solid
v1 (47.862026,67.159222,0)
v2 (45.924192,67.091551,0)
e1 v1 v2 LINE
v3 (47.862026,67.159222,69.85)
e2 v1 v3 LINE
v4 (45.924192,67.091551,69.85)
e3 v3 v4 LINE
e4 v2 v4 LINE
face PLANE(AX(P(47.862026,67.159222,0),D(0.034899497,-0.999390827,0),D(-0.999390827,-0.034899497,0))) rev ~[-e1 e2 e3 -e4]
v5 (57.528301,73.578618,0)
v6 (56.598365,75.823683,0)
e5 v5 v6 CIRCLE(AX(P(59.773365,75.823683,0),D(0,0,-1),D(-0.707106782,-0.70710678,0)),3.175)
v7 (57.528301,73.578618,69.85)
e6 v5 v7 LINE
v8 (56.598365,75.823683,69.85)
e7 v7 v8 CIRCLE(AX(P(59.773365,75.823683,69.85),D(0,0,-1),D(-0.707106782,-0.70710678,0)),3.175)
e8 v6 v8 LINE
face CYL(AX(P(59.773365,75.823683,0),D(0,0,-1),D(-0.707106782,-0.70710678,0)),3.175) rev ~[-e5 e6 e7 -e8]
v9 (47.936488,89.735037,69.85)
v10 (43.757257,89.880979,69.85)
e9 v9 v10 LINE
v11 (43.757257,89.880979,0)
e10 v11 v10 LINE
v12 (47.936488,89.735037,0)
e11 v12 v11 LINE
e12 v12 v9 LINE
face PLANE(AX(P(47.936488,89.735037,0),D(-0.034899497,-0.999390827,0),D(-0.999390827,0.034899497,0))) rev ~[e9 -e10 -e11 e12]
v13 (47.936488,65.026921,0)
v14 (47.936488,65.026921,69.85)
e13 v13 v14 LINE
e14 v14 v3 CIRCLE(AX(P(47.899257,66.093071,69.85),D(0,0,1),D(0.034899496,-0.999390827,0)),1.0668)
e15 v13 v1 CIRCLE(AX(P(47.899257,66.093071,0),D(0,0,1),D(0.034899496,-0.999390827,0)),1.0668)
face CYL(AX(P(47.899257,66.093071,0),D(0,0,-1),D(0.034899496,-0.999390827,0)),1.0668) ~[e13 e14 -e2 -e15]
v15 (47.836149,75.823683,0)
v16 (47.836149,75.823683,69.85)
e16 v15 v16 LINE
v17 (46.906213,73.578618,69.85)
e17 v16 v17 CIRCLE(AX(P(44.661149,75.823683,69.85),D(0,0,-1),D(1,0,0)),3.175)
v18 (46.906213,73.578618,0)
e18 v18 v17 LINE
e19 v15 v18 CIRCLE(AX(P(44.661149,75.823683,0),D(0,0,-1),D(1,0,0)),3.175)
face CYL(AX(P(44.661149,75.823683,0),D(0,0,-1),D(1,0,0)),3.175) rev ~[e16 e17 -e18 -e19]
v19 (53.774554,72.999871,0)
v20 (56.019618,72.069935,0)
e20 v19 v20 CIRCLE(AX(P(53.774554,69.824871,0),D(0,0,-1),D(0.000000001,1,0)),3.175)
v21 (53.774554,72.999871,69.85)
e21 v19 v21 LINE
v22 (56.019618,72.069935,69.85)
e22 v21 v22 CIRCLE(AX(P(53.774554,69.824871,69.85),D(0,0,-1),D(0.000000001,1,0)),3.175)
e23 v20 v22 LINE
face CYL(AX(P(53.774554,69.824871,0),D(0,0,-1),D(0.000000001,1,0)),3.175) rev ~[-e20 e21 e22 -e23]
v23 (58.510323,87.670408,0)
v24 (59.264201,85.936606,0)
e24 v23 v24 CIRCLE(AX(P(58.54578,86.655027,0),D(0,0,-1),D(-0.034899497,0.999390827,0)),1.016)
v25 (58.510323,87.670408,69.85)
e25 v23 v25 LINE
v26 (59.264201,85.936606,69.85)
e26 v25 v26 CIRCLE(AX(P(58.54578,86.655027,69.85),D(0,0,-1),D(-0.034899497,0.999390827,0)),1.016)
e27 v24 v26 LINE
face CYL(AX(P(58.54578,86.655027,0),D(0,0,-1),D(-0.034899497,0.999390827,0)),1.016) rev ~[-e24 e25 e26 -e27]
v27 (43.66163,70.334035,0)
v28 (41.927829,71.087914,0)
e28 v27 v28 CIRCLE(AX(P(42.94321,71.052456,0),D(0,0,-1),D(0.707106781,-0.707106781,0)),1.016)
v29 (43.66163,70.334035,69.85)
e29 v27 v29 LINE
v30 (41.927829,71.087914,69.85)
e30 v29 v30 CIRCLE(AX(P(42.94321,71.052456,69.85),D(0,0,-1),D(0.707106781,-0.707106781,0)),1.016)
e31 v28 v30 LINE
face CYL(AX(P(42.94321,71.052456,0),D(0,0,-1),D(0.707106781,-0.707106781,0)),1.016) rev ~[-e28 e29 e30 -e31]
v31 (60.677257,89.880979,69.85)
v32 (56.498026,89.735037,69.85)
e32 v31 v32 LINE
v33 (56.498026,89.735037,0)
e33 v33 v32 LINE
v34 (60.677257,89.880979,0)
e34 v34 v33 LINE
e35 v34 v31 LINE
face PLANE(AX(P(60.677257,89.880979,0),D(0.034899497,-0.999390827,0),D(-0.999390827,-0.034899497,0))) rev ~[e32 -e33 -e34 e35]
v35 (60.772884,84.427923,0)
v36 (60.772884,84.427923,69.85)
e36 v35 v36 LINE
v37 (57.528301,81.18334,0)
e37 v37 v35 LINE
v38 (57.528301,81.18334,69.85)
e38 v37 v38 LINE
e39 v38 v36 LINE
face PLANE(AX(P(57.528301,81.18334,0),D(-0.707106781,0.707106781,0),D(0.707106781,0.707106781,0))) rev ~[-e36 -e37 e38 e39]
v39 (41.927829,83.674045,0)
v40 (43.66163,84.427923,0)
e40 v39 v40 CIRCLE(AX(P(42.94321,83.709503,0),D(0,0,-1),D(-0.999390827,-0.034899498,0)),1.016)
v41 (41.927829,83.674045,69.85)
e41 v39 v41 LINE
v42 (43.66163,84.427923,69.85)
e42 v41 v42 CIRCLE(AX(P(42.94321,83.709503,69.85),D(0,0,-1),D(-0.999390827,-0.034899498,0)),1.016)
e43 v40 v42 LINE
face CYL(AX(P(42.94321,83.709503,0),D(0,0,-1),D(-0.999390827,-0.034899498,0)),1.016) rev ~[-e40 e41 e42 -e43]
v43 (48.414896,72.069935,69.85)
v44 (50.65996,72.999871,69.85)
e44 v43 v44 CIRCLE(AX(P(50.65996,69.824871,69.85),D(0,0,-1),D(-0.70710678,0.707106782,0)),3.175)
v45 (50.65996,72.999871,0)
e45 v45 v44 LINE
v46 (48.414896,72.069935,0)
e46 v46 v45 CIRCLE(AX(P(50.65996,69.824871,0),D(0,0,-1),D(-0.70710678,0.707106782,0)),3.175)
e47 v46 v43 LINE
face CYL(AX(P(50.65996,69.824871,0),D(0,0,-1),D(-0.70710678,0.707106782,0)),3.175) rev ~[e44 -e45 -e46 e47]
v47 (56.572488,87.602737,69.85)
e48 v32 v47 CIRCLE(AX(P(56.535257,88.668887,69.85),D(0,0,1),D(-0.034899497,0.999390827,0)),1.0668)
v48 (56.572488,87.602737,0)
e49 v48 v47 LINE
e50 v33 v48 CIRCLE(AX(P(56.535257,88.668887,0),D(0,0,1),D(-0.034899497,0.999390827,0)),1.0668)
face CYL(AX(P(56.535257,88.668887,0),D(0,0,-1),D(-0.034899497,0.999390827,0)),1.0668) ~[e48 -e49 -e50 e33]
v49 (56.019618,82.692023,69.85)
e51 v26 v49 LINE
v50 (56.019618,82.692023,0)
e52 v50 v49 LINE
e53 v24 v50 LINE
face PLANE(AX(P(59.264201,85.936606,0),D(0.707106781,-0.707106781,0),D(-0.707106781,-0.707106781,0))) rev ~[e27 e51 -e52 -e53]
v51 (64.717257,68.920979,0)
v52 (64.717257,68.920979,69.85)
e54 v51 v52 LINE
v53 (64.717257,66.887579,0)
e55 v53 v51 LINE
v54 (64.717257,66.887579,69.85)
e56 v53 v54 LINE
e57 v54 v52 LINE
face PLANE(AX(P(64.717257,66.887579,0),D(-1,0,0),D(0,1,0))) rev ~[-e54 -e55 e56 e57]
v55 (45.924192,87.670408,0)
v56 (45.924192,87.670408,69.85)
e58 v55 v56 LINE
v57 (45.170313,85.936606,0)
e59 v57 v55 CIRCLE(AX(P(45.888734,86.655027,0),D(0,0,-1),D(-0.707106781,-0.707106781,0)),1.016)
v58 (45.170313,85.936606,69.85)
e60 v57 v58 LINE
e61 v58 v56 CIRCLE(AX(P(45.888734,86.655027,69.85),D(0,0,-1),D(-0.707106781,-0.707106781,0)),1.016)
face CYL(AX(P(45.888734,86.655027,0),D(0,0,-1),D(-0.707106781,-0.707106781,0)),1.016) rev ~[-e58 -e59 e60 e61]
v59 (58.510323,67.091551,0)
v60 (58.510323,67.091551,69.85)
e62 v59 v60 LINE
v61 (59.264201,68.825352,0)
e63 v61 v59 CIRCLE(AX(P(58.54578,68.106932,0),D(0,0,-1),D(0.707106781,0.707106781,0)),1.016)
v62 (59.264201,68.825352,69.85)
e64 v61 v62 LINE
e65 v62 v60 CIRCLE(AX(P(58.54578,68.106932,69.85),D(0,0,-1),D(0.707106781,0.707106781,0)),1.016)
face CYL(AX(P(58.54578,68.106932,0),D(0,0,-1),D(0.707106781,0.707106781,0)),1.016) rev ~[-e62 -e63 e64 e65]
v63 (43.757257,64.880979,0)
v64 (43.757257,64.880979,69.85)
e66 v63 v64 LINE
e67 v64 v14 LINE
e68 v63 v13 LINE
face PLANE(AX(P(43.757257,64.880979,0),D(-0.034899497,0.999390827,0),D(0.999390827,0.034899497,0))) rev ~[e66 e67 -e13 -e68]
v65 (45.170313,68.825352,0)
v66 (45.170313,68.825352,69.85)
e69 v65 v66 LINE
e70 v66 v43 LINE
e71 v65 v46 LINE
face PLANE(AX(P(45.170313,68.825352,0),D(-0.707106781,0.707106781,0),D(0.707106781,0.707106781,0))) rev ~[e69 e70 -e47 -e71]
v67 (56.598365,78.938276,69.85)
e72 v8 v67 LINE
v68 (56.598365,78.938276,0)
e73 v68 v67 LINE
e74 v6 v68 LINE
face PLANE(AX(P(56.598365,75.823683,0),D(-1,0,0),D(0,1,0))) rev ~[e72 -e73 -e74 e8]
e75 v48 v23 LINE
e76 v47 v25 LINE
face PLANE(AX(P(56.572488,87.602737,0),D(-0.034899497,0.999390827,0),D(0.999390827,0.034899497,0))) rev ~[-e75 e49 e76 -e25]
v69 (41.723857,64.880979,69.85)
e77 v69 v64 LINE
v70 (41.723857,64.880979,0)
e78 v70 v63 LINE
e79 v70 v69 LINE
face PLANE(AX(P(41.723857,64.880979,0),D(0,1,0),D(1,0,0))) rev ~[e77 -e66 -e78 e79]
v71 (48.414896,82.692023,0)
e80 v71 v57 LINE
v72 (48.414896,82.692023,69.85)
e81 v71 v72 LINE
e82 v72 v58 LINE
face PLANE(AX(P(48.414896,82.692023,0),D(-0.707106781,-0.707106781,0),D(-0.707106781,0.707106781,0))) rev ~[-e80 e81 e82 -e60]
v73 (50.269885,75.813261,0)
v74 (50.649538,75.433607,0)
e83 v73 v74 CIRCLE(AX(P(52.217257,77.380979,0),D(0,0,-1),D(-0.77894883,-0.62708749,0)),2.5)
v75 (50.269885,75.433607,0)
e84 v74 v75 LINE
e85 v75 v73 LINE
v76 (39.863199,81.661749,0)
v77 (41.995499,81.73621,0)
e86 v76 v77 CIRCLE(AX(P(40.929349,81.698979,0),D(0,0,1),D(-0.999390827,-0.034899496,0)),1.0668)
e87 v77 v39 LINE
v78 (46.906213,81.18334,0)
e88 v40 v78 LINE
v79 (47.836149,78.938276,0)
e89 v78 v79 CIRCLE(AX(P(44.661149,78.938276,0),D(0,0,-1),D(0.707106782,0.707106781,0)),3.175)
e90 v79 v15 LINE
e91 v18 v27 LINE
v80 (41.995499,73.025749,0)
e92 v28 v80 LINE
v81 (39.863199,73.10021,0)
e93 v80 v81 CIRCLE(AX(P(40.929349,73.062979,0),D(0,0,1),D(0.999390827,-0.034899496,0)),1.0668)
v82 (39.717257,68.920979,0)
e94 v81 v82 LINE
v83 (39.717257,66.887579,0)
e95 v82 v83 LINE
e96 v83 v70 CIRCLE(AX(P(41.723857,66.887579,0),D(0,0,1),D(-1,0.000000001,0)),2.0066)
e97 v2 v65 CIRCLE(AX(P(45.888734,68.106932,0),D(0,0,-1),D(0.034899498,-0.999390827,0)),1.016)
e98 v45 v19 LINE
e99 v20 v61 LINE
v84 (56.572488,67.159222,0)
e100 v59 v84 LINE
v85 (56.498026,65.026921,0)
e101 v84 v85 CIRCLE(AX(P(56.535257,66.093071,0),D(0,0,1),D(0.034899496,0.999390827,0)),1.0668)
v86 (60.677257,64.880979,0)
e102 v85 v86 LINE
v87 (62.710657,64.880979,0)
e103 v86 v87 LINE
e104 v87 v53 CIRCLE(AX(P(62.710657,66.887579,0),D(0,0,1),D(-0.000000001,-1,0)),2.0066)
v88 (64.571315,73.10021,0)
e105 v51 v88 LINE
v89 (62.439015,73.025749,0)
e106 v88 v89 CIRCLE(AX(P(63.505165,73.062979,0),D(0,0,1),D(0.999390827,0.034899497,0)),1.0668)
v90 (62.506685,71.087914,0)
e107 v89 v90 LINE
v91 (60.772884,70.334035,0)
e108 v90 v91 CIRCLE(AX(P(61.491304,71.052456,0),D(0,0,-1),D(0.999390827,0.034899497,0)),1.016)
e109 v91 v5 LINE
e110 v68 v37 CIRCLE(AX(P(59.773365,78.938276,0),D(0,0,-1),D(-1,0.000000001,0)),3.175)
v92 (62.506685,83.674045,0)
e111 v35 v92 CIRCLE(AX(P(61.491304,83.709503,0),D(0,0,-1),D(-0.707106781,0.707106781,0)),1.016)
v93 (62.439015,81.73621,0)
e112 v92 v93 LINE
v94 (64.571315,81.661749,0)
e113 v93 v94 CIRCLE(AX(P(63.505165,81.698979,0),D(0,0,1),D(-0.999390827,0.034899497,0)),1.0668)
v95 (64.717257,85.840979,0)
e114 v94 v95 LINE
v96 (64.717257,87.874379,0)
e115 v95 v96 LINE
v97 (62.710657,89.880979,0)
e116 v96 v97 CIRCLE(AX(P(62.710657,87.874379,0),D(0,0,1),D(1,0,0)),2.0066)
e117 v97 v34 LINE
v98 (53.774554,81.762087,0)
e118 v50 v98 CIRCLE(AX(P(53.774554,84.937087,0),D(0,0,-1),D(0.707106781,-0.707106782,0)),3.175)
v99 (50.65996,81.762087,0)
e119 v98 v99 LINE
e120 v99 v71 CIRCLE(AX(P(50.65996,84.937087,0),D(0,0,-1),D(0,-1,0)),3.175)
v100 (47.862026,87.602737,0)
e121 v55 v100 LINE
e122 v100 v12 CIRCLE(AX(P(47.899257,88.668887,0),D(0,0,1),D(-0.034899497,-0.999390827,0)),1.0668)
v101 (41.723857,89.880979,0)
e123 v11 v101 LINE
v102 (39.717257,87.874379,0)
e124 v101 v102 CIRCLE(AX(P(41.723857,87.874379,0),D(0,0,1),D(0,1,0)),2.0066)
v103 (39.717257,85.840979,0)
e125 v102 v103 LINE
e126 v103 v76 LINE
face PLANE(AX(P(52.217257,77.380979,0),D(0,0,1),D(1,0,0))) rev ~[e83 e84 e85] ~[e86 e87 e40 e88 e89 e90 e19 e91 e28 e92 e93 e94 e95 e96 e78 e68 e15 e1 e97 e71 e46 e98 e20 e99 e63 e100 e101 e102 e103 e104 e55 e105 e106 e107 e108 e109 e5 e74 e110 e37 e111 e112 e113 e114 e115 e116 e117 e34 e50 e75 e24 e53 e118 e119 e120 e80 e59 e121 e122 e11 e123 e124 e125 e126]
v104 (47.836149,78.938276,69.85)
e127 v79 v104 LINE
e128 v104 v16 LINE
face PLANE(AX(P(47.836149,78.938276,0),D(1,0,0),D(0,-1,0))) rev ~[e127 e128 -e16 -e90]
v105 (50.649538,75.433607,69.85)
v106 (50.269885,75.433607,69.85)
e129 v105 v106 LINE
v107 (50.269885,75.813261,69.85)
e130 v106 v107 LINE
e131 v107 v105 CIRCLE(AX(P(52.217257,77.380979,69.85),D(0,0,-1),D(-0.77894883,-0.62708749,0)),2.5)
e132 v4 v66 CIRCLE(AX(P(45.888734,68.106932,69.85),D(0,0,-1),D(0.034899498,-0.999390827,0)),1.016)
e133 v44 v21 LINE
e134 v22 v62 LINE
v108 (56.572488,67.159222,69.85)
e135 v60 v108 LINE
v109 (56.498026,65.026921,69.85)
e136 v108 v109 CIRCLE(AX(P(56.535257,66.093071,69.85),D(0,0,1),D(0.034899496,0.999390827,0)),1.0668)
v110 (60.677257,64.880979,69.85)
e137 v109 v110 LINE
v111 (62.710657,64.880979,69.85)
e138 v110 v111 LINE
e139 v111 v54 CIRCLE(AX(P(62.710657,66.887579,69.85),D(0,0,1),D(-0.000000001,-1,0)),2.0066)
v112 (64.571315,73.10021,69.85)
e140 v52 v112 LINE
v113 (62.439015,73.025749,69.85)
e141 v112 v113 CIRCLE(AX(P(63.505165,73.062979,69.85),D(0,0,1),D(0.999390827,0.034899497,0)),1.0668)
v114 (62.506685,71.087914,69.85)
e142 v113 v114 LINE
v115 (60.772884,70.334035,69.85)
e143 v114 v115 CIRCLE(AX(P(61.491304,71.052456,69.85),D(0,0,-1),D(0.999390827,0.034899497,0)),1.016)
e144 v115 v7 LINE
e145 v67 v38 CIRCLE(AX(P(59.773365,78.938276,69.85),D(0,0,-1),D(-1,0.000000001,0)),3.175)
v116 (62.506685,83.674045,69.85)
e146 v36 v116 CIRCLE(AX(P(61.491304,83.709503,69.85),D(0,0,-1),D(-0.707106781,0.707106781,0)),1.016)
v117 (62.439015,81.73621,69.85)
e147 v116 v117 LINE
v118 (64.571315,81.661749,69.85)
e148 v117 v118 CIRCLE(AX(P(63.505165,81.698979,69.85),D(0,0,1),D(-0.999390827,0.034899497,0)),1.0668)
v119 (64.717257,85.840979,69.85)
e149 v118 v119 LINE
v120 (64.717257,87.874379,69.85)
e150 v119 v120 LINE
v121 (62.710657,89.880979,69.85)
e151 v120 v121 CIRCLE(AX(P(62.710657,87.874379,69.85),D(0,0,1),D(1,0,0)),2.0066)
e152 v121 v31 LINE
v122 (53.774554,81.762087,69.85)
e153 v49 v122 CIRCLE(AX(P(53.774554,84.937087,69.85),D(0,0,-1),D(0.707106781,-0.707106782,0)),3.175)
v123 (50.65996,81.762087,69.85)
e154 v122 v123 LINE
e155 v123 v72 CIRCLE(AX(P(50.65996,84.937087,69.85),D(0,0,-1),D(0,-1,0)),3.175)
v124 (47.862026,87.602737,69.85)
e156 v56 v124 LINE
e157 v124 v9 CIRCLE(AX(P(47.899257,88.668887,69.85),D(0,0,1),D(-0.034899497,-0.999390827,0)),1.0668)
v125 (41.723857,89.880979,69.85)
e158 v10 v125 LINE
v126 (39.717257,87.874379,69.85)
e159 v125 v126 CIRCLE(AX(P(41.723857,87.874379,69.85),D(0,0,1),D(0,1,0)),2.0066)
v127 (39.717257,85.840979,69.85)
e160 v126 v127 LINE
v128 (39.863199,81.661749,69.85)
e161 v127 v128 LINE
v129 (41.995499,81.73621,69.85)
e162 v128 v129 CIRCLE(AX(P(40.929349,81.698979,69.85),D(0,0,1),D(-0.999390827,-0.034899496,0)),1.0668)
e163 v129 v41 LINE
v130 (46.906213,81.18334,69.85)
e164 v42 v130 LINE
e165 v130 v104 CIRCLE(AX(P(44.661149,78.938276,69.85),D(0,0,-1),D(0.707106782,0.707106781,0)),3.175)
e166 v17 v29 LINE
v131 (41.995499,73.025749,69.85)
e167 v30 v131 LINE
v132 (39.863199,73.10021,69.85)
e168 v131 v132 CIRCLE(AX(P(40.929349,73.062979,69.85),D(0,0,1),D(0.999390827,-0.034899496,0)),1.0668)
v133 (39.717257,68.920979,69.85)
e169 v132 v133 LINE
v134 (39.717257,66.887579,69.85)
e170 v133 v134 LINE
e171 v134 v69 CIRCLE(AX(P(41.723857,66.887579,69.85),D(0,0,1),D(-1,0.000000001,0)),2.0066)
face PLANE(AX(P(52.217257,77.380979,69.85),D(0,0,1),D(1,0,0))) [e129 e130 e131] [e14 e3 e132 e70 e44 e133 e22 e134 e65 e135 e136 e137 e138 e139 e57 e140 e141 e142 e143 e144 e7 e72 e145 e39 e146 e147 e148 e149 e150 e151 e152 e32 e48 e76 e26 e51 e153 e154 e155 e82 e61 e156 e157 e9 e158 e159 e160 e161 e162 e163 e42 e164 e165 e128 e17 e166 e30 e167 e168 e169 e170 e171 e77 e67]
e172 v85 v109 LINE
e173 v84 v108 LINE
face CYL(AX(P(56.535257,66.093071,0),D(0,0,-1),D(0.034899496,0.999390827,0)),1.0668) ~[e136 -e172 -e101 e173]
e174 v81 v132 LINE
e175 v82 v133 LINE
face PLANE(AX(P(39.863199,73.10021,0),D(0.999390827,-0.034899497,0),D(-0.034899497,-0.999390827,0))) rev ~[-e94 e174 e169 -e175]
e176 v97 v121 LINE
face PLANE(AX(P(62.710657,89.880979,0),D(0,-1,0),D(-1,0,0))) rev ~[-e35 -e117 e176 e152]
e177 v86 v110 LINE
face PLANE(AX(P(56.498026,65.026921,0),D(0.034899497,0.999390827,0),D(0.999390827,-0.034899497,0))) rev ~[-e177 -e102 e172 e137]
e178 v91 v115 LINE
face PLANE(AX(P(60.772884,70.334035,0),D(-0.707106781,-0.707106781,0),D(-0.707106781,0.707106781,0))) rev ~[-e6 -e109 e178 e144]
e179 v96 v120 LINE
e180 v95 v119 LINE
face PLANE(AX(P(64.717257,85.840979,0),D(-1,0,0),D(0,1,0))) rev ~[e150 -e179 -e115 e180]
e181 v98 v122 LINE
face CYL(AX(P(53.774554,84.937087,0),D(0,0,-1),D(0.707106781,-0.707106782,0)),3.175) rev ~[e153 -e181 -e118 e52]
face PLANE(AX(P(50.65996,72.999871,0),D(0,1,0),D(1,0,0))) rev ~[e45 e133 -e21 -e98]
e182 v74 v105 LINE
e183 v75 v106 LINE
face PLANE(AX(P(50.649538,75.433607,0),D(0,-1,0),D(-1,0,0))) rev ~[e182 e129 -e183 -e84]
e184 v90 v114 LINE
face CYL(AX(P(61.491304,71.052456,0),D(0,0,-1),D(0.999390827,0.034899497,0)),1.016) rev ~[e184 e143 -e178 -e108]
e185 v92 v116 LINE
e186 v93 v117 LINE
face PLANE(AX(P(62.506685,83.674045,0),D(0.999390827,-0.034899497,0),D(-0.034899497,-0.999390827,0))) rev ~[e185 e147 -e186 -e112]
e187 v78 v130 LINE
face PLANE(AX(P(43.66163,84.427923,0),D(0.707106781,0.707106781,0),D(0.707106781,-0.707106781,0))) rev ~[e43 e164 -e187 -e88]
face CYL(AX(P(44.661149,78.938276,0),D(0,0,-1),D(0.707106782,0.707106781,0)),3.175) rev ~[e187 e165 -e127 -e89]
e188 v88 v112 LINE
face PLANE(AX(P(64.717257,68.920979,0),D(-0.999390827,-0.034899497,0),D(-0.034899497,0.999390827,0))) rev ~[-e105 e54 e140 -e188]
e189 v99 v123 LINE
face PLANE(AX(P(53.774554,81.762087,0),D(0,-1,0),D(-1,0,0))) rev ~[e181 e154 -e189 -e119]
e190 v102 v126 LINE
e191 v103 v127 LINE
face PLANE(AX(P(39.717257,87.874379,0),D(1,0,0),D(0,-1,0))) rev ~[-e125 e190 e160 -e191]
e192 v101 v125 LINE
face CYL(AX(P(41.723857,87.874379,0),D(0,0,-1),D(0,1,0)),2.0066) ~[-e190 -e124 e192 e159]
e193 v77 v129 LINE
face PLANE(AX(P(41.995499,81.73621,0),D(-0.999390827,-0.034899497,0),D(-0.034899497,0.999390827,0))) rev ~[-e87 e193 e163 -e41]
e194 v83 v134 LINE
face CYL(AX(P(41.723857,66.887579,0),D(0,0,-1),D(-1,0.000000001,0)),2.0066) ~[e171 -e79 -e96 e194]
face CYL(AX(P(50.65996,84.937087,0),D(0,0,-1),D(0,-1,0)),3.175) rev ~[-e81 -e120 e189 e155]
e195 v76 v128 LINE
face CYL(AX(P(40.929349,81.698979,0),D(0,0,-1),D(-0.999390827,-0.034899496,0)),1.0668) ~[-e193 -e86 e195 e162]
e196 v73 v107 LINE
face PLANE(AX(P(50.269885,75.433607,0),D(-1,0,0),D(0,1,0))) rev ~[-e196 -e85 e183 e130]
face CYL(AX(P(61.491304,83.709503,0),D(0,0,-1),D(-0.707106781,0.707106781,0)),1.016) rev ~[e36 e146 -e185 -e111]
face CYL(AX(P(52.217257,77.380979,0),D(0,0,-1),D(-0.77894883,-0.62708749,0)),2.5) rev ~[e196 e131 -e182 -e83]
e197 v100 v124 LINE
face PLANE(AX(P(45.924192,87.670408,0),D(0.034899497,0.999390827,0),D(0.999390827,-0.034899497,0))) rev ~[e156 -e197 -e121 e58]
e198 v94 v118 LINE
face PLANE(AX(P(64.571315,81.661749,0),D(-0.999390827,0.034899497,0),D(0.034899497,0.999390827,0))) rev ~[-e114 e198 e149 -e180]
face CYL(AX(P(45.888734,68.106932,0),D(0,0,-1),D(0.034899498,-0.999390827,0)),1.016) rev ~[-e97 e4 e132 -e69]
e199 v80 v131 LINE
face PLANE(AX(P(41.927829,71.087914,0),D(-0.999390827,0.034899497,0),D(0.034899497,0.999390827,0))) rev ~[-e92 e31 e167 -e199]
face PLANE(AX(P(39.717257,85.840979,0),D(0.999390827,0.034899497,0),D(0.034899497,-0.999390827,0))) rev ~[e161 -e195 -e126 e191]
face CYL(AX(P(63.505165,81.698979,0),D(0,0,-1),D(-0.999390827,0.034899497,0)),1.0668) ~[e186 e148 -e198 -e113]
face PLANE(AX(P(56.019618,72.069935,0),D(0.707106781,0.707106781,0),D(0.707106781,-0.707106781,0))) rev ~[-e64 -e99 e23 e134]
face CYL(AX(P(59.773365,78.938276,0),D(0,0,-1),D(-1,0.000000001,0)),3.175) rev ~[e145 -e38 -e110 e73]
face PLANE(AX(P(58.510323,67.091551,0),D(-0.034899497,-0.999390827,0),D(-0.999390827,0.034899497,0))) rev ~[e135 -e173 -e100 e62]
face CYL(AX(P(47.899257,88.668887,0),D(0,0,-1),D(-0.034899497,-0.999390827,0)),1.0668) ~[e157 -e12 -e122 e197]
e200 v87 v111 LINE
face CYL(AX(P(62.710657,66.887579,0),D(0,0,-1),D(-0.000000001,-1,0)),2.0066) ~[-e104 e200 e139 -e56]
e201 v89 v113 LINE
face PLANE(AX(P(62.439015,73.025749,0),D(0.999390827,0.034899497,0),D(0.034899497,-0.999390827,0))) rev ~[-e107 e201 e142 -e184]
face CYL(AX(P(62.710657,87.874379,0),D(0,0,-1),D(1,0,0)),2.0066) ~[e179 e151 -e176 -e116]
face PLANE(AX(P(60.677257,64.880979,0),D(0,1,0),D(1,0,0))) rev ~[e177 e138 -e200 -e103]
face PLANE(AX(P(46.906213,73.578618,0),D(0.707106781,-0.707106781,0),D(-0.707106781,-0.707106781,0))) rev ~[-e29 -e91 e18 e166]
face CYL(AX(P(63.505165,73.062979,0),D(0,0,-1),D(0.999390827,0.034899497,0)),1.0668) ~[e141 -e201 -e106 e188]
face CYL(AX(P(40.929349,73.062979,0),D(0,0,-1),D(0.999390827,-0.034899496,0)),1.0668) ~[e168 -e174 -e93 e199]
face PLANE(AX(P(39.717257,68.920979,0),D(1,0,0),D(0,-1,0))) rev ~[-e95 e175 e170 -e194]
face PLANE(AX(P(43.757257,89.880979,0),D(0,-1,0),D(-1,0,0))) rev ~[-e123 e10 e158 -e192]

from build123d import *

# Parameters (mm, degrees)
BOSS_EXTRUDE1_DEPTH = 69.85


with BuildPart() as part:
    # Model → Boss-Extrude1 (new body)
    with BuildSketch(Plane.XY):
        with BuildLine():
            Line((50.659960212, 72.999871414), (53.774553856, 72.999871414))
            ThreePointArc((53.774553856, 72.999871414), (54.989573754, 72.758188929), (56.019617887, 72.069935444))
            Line((56.019617887, 72.069935444), (59.264200891, 68.825352439))
            ThreePointArc((59.264200891, 68.825352439), (59.477513437, 67.701802895), (58.510322513, 67.091550869))
            Line((58.510322513, 67.091550869), (56.572487817, 67.159221548))
            ThreePointArc((56.572487817, 67.159221548), (55.4691069, 66.130302197), (56.498026251, 65.026921279))
            Line((56.498026251, 65.026921279), (60.677257034, 64.880979325))
            Line((60.677257034, 64.880979325), (62.710657034, 64.880979325))
            ThreePointArc((62.710657034, 64.880979325), (64.129537501, 65.468698857), (64.717257034, 66.887579325))
            Line((64.717257034, 66.887579325), (64.717257034, 68.920979325))
            Line((64.717257034, 68.920979325), (64.57131508, 73.100210108))
            ThreePointArc((64.57131508, 73.100210108), (63.467934162, 74.129129459), (62.439014811, 73.025748542))
            Line((62.439014811, 73.025748542), (62.50668549, 71.087913846))
            ThreePointArc((62.50668549, 71.087913846), (61.896433464, 70.120722922), (60.77288392, 70.334035468))
            Line((60.77288392, 70.334035468), (57.528300915, 73.578618472))
            ThreePointArc((57.528300915, 73.578618472), (56.84004743, 74.608662605), (56.598364945, 75.823682503))
            Line((56.598364945, 75.823682503), (56.598364945, 78.938276147))
            ThreePointArc((56.598364945, 78.938276147), (56.84004743, 80.153296044), (57.528300915, 81.183340177))
            Line((57.528300915, 81.183340177), (60.77288392, 84.427923182))
            ThreePointArc((60.77288392, 84.427923182), (61.896433464, 84.641235728), (62.50668549, 83.674044803))
            Line((62.50668549, 83.674044803), (62.439014811, 81.736210108))
            ThreePointArc((62.439014811, 81.736210108), (63.467934162, 80.63282919), (64.57131508, 81.661748542))
            Line((64.57131508, 81.661748542), (64.717257034, 85.840979325))
            Line((64.717257034, 85.840979325), (64.717257034, 87.874379325))
            ThreePointArc((64.717257034, 87.874379325), (64.129537501, 89.293259792), (62.710657034, 89.880979325))
            Line((62.710657034, 89.880979325), (60.677257034, 89.880979325))
            Line((60.677257034, 89.880979325), (56.498026251, 89.73503737))
            ThreePointArc((56.498026251, 89.73503737), (55.4691069, 88.631656452), (56.572487817, 87.602737101))
            Line((56.572487817, 87.602737101), (58.510322513, 87.67040778))
            ThreePointArc((58.510322513, 87.67040778), (59.477513437, 87.060155754), (59.264200891, 85.93660621))
            Line((59.264200891, 85.93660621), (56.019617887, 82.692023205))
            ThreePointArc((56.019617887, 82.692023205), (54.989573754, 82.00376972), (53.774553856, 81.762087236))
            Line((53.774553856, 81.762087236), (50.659960212, 81.762087236))
            ThreePointArc((50.659960212, 81.762087236), (49.444940315, 82.00376972), (48.414896182, 82.692023205))
            Line((48.414896182, 82.692023205), (45.170313177, 85.93660621))
            ThreePointArc((45.170313177, 85.93660621), (44.957000631, 87.060155754), (45.924191556, 87.67040778))
            Line((45.924191556, 87.67040778), (47.862026251, 87.602737101))
            ThreePointArc((47.862026251, 87.602737101), (48.965407169, 88.631656452), (47.936487817, 89.73503737))
            Line((47.936487817, 89.73503737), (43.757257034, 89.880979325))
            Line((43.757257034, 89.880979325), (41.723857034, 89.880979325))
            ThreePointArc((41.723857034, 89.880979325), (40.304976567, 89.293259792), (39.717257034, 87.874379325))
            Line((39.717257034, 87.874379325), (39.717257034, 85.840979325))
            Line((39.717257034, 85.840979325), (39.863198989, 81.661748542))
            ThreePointArc((39.863198989, 81.661748542), (40.966579907, 80.63282919), (41.995499258, 81.736210108))
            Line((41.995499258, 81.736210108), (41.927828579, 83.674044803))
            ThreePointArc((41.927828579, 83.674044803), (42.538080605, 84.641235728), (43.661630149, 84.427923182))
            Line((43.661630149, 84.427923182), (46.906213154, 81.183340177))
            ThreePointArc((46.906213154, 81.183340177), (47.594466639, 80.153296044), (47.836149123, 78.938276147))
            Line((47.836149123, 78.938276147), (47.836149123, 75.823682503))
            ThreePointArc((47.836149123, 75.823682503), (47.594466639, 74.608662605), (46.906213154, 73.578618472))
            Line((46.906213154, 73.578618472), (43.661630149, 70.334035468))
            ThreePointArc((43.661630149, 70.334035468), (42.538080605, 70.120722922), (41.927828579, 71.087913846))
            Line((41.927828579, 71.087913846), (41.995499258, 73.025748542))
            ThreePointArc((41.995499258, 73.025748542), (40.966579907, 74.129129459), (39.863198989, 73.100210108))
            Line((39.863198989, 73.100210108), (39.717257034, 68.920979325))
            Line((39.717257034, 68.920979325), (39.717257034, 66.887579325))
            ThreePointArc((39.717257034, 66.887579325), (40.304976567, 65.468698857), (41.723857034, 64.880979325))
            Line((41.723857034, 64.880979325), (43.757257034, 64.880979325))
            Line((43.757257034, 64.880979325), (47.936487817, 65.026921279))
            ThreePointArc((47.936487817, 65.026921279), (48.965407169, 66.130302197), (47.862026251, 67.159221548))
            Line((47.862026251, 67.159221548), (45.924191556, 67.091550869))
            ThreePointArc((45.924191556, 67.091550869), (44.957000631, 67.701802895), (45.170313177, 68.825352439))
            Line((45.170313177, 68.825352439), (48.414896182, 72.069935444))
            ThreePointArc((48.414896182, 72.069935444), (49.444940315, 72.758188929), (50.659960212, 72.999871414))
        make_face()
        with BuildLine():
            Line((50.64953831, 75.433607249), (50.269884959, 75.433607249))
            Line((50.269884959, 75.433607249), (50.269884959, 75.8132606))
            ThreePointArc((50.269884959, 75.8132606), (53.985023987, 79.148746278), (50.64953831, 75.433607249))
        make_face(mode=Mode.SUBTRACT)
    extrude(amount=BOSS_EXTRUDE1_DEPTH)


solid = part.part
